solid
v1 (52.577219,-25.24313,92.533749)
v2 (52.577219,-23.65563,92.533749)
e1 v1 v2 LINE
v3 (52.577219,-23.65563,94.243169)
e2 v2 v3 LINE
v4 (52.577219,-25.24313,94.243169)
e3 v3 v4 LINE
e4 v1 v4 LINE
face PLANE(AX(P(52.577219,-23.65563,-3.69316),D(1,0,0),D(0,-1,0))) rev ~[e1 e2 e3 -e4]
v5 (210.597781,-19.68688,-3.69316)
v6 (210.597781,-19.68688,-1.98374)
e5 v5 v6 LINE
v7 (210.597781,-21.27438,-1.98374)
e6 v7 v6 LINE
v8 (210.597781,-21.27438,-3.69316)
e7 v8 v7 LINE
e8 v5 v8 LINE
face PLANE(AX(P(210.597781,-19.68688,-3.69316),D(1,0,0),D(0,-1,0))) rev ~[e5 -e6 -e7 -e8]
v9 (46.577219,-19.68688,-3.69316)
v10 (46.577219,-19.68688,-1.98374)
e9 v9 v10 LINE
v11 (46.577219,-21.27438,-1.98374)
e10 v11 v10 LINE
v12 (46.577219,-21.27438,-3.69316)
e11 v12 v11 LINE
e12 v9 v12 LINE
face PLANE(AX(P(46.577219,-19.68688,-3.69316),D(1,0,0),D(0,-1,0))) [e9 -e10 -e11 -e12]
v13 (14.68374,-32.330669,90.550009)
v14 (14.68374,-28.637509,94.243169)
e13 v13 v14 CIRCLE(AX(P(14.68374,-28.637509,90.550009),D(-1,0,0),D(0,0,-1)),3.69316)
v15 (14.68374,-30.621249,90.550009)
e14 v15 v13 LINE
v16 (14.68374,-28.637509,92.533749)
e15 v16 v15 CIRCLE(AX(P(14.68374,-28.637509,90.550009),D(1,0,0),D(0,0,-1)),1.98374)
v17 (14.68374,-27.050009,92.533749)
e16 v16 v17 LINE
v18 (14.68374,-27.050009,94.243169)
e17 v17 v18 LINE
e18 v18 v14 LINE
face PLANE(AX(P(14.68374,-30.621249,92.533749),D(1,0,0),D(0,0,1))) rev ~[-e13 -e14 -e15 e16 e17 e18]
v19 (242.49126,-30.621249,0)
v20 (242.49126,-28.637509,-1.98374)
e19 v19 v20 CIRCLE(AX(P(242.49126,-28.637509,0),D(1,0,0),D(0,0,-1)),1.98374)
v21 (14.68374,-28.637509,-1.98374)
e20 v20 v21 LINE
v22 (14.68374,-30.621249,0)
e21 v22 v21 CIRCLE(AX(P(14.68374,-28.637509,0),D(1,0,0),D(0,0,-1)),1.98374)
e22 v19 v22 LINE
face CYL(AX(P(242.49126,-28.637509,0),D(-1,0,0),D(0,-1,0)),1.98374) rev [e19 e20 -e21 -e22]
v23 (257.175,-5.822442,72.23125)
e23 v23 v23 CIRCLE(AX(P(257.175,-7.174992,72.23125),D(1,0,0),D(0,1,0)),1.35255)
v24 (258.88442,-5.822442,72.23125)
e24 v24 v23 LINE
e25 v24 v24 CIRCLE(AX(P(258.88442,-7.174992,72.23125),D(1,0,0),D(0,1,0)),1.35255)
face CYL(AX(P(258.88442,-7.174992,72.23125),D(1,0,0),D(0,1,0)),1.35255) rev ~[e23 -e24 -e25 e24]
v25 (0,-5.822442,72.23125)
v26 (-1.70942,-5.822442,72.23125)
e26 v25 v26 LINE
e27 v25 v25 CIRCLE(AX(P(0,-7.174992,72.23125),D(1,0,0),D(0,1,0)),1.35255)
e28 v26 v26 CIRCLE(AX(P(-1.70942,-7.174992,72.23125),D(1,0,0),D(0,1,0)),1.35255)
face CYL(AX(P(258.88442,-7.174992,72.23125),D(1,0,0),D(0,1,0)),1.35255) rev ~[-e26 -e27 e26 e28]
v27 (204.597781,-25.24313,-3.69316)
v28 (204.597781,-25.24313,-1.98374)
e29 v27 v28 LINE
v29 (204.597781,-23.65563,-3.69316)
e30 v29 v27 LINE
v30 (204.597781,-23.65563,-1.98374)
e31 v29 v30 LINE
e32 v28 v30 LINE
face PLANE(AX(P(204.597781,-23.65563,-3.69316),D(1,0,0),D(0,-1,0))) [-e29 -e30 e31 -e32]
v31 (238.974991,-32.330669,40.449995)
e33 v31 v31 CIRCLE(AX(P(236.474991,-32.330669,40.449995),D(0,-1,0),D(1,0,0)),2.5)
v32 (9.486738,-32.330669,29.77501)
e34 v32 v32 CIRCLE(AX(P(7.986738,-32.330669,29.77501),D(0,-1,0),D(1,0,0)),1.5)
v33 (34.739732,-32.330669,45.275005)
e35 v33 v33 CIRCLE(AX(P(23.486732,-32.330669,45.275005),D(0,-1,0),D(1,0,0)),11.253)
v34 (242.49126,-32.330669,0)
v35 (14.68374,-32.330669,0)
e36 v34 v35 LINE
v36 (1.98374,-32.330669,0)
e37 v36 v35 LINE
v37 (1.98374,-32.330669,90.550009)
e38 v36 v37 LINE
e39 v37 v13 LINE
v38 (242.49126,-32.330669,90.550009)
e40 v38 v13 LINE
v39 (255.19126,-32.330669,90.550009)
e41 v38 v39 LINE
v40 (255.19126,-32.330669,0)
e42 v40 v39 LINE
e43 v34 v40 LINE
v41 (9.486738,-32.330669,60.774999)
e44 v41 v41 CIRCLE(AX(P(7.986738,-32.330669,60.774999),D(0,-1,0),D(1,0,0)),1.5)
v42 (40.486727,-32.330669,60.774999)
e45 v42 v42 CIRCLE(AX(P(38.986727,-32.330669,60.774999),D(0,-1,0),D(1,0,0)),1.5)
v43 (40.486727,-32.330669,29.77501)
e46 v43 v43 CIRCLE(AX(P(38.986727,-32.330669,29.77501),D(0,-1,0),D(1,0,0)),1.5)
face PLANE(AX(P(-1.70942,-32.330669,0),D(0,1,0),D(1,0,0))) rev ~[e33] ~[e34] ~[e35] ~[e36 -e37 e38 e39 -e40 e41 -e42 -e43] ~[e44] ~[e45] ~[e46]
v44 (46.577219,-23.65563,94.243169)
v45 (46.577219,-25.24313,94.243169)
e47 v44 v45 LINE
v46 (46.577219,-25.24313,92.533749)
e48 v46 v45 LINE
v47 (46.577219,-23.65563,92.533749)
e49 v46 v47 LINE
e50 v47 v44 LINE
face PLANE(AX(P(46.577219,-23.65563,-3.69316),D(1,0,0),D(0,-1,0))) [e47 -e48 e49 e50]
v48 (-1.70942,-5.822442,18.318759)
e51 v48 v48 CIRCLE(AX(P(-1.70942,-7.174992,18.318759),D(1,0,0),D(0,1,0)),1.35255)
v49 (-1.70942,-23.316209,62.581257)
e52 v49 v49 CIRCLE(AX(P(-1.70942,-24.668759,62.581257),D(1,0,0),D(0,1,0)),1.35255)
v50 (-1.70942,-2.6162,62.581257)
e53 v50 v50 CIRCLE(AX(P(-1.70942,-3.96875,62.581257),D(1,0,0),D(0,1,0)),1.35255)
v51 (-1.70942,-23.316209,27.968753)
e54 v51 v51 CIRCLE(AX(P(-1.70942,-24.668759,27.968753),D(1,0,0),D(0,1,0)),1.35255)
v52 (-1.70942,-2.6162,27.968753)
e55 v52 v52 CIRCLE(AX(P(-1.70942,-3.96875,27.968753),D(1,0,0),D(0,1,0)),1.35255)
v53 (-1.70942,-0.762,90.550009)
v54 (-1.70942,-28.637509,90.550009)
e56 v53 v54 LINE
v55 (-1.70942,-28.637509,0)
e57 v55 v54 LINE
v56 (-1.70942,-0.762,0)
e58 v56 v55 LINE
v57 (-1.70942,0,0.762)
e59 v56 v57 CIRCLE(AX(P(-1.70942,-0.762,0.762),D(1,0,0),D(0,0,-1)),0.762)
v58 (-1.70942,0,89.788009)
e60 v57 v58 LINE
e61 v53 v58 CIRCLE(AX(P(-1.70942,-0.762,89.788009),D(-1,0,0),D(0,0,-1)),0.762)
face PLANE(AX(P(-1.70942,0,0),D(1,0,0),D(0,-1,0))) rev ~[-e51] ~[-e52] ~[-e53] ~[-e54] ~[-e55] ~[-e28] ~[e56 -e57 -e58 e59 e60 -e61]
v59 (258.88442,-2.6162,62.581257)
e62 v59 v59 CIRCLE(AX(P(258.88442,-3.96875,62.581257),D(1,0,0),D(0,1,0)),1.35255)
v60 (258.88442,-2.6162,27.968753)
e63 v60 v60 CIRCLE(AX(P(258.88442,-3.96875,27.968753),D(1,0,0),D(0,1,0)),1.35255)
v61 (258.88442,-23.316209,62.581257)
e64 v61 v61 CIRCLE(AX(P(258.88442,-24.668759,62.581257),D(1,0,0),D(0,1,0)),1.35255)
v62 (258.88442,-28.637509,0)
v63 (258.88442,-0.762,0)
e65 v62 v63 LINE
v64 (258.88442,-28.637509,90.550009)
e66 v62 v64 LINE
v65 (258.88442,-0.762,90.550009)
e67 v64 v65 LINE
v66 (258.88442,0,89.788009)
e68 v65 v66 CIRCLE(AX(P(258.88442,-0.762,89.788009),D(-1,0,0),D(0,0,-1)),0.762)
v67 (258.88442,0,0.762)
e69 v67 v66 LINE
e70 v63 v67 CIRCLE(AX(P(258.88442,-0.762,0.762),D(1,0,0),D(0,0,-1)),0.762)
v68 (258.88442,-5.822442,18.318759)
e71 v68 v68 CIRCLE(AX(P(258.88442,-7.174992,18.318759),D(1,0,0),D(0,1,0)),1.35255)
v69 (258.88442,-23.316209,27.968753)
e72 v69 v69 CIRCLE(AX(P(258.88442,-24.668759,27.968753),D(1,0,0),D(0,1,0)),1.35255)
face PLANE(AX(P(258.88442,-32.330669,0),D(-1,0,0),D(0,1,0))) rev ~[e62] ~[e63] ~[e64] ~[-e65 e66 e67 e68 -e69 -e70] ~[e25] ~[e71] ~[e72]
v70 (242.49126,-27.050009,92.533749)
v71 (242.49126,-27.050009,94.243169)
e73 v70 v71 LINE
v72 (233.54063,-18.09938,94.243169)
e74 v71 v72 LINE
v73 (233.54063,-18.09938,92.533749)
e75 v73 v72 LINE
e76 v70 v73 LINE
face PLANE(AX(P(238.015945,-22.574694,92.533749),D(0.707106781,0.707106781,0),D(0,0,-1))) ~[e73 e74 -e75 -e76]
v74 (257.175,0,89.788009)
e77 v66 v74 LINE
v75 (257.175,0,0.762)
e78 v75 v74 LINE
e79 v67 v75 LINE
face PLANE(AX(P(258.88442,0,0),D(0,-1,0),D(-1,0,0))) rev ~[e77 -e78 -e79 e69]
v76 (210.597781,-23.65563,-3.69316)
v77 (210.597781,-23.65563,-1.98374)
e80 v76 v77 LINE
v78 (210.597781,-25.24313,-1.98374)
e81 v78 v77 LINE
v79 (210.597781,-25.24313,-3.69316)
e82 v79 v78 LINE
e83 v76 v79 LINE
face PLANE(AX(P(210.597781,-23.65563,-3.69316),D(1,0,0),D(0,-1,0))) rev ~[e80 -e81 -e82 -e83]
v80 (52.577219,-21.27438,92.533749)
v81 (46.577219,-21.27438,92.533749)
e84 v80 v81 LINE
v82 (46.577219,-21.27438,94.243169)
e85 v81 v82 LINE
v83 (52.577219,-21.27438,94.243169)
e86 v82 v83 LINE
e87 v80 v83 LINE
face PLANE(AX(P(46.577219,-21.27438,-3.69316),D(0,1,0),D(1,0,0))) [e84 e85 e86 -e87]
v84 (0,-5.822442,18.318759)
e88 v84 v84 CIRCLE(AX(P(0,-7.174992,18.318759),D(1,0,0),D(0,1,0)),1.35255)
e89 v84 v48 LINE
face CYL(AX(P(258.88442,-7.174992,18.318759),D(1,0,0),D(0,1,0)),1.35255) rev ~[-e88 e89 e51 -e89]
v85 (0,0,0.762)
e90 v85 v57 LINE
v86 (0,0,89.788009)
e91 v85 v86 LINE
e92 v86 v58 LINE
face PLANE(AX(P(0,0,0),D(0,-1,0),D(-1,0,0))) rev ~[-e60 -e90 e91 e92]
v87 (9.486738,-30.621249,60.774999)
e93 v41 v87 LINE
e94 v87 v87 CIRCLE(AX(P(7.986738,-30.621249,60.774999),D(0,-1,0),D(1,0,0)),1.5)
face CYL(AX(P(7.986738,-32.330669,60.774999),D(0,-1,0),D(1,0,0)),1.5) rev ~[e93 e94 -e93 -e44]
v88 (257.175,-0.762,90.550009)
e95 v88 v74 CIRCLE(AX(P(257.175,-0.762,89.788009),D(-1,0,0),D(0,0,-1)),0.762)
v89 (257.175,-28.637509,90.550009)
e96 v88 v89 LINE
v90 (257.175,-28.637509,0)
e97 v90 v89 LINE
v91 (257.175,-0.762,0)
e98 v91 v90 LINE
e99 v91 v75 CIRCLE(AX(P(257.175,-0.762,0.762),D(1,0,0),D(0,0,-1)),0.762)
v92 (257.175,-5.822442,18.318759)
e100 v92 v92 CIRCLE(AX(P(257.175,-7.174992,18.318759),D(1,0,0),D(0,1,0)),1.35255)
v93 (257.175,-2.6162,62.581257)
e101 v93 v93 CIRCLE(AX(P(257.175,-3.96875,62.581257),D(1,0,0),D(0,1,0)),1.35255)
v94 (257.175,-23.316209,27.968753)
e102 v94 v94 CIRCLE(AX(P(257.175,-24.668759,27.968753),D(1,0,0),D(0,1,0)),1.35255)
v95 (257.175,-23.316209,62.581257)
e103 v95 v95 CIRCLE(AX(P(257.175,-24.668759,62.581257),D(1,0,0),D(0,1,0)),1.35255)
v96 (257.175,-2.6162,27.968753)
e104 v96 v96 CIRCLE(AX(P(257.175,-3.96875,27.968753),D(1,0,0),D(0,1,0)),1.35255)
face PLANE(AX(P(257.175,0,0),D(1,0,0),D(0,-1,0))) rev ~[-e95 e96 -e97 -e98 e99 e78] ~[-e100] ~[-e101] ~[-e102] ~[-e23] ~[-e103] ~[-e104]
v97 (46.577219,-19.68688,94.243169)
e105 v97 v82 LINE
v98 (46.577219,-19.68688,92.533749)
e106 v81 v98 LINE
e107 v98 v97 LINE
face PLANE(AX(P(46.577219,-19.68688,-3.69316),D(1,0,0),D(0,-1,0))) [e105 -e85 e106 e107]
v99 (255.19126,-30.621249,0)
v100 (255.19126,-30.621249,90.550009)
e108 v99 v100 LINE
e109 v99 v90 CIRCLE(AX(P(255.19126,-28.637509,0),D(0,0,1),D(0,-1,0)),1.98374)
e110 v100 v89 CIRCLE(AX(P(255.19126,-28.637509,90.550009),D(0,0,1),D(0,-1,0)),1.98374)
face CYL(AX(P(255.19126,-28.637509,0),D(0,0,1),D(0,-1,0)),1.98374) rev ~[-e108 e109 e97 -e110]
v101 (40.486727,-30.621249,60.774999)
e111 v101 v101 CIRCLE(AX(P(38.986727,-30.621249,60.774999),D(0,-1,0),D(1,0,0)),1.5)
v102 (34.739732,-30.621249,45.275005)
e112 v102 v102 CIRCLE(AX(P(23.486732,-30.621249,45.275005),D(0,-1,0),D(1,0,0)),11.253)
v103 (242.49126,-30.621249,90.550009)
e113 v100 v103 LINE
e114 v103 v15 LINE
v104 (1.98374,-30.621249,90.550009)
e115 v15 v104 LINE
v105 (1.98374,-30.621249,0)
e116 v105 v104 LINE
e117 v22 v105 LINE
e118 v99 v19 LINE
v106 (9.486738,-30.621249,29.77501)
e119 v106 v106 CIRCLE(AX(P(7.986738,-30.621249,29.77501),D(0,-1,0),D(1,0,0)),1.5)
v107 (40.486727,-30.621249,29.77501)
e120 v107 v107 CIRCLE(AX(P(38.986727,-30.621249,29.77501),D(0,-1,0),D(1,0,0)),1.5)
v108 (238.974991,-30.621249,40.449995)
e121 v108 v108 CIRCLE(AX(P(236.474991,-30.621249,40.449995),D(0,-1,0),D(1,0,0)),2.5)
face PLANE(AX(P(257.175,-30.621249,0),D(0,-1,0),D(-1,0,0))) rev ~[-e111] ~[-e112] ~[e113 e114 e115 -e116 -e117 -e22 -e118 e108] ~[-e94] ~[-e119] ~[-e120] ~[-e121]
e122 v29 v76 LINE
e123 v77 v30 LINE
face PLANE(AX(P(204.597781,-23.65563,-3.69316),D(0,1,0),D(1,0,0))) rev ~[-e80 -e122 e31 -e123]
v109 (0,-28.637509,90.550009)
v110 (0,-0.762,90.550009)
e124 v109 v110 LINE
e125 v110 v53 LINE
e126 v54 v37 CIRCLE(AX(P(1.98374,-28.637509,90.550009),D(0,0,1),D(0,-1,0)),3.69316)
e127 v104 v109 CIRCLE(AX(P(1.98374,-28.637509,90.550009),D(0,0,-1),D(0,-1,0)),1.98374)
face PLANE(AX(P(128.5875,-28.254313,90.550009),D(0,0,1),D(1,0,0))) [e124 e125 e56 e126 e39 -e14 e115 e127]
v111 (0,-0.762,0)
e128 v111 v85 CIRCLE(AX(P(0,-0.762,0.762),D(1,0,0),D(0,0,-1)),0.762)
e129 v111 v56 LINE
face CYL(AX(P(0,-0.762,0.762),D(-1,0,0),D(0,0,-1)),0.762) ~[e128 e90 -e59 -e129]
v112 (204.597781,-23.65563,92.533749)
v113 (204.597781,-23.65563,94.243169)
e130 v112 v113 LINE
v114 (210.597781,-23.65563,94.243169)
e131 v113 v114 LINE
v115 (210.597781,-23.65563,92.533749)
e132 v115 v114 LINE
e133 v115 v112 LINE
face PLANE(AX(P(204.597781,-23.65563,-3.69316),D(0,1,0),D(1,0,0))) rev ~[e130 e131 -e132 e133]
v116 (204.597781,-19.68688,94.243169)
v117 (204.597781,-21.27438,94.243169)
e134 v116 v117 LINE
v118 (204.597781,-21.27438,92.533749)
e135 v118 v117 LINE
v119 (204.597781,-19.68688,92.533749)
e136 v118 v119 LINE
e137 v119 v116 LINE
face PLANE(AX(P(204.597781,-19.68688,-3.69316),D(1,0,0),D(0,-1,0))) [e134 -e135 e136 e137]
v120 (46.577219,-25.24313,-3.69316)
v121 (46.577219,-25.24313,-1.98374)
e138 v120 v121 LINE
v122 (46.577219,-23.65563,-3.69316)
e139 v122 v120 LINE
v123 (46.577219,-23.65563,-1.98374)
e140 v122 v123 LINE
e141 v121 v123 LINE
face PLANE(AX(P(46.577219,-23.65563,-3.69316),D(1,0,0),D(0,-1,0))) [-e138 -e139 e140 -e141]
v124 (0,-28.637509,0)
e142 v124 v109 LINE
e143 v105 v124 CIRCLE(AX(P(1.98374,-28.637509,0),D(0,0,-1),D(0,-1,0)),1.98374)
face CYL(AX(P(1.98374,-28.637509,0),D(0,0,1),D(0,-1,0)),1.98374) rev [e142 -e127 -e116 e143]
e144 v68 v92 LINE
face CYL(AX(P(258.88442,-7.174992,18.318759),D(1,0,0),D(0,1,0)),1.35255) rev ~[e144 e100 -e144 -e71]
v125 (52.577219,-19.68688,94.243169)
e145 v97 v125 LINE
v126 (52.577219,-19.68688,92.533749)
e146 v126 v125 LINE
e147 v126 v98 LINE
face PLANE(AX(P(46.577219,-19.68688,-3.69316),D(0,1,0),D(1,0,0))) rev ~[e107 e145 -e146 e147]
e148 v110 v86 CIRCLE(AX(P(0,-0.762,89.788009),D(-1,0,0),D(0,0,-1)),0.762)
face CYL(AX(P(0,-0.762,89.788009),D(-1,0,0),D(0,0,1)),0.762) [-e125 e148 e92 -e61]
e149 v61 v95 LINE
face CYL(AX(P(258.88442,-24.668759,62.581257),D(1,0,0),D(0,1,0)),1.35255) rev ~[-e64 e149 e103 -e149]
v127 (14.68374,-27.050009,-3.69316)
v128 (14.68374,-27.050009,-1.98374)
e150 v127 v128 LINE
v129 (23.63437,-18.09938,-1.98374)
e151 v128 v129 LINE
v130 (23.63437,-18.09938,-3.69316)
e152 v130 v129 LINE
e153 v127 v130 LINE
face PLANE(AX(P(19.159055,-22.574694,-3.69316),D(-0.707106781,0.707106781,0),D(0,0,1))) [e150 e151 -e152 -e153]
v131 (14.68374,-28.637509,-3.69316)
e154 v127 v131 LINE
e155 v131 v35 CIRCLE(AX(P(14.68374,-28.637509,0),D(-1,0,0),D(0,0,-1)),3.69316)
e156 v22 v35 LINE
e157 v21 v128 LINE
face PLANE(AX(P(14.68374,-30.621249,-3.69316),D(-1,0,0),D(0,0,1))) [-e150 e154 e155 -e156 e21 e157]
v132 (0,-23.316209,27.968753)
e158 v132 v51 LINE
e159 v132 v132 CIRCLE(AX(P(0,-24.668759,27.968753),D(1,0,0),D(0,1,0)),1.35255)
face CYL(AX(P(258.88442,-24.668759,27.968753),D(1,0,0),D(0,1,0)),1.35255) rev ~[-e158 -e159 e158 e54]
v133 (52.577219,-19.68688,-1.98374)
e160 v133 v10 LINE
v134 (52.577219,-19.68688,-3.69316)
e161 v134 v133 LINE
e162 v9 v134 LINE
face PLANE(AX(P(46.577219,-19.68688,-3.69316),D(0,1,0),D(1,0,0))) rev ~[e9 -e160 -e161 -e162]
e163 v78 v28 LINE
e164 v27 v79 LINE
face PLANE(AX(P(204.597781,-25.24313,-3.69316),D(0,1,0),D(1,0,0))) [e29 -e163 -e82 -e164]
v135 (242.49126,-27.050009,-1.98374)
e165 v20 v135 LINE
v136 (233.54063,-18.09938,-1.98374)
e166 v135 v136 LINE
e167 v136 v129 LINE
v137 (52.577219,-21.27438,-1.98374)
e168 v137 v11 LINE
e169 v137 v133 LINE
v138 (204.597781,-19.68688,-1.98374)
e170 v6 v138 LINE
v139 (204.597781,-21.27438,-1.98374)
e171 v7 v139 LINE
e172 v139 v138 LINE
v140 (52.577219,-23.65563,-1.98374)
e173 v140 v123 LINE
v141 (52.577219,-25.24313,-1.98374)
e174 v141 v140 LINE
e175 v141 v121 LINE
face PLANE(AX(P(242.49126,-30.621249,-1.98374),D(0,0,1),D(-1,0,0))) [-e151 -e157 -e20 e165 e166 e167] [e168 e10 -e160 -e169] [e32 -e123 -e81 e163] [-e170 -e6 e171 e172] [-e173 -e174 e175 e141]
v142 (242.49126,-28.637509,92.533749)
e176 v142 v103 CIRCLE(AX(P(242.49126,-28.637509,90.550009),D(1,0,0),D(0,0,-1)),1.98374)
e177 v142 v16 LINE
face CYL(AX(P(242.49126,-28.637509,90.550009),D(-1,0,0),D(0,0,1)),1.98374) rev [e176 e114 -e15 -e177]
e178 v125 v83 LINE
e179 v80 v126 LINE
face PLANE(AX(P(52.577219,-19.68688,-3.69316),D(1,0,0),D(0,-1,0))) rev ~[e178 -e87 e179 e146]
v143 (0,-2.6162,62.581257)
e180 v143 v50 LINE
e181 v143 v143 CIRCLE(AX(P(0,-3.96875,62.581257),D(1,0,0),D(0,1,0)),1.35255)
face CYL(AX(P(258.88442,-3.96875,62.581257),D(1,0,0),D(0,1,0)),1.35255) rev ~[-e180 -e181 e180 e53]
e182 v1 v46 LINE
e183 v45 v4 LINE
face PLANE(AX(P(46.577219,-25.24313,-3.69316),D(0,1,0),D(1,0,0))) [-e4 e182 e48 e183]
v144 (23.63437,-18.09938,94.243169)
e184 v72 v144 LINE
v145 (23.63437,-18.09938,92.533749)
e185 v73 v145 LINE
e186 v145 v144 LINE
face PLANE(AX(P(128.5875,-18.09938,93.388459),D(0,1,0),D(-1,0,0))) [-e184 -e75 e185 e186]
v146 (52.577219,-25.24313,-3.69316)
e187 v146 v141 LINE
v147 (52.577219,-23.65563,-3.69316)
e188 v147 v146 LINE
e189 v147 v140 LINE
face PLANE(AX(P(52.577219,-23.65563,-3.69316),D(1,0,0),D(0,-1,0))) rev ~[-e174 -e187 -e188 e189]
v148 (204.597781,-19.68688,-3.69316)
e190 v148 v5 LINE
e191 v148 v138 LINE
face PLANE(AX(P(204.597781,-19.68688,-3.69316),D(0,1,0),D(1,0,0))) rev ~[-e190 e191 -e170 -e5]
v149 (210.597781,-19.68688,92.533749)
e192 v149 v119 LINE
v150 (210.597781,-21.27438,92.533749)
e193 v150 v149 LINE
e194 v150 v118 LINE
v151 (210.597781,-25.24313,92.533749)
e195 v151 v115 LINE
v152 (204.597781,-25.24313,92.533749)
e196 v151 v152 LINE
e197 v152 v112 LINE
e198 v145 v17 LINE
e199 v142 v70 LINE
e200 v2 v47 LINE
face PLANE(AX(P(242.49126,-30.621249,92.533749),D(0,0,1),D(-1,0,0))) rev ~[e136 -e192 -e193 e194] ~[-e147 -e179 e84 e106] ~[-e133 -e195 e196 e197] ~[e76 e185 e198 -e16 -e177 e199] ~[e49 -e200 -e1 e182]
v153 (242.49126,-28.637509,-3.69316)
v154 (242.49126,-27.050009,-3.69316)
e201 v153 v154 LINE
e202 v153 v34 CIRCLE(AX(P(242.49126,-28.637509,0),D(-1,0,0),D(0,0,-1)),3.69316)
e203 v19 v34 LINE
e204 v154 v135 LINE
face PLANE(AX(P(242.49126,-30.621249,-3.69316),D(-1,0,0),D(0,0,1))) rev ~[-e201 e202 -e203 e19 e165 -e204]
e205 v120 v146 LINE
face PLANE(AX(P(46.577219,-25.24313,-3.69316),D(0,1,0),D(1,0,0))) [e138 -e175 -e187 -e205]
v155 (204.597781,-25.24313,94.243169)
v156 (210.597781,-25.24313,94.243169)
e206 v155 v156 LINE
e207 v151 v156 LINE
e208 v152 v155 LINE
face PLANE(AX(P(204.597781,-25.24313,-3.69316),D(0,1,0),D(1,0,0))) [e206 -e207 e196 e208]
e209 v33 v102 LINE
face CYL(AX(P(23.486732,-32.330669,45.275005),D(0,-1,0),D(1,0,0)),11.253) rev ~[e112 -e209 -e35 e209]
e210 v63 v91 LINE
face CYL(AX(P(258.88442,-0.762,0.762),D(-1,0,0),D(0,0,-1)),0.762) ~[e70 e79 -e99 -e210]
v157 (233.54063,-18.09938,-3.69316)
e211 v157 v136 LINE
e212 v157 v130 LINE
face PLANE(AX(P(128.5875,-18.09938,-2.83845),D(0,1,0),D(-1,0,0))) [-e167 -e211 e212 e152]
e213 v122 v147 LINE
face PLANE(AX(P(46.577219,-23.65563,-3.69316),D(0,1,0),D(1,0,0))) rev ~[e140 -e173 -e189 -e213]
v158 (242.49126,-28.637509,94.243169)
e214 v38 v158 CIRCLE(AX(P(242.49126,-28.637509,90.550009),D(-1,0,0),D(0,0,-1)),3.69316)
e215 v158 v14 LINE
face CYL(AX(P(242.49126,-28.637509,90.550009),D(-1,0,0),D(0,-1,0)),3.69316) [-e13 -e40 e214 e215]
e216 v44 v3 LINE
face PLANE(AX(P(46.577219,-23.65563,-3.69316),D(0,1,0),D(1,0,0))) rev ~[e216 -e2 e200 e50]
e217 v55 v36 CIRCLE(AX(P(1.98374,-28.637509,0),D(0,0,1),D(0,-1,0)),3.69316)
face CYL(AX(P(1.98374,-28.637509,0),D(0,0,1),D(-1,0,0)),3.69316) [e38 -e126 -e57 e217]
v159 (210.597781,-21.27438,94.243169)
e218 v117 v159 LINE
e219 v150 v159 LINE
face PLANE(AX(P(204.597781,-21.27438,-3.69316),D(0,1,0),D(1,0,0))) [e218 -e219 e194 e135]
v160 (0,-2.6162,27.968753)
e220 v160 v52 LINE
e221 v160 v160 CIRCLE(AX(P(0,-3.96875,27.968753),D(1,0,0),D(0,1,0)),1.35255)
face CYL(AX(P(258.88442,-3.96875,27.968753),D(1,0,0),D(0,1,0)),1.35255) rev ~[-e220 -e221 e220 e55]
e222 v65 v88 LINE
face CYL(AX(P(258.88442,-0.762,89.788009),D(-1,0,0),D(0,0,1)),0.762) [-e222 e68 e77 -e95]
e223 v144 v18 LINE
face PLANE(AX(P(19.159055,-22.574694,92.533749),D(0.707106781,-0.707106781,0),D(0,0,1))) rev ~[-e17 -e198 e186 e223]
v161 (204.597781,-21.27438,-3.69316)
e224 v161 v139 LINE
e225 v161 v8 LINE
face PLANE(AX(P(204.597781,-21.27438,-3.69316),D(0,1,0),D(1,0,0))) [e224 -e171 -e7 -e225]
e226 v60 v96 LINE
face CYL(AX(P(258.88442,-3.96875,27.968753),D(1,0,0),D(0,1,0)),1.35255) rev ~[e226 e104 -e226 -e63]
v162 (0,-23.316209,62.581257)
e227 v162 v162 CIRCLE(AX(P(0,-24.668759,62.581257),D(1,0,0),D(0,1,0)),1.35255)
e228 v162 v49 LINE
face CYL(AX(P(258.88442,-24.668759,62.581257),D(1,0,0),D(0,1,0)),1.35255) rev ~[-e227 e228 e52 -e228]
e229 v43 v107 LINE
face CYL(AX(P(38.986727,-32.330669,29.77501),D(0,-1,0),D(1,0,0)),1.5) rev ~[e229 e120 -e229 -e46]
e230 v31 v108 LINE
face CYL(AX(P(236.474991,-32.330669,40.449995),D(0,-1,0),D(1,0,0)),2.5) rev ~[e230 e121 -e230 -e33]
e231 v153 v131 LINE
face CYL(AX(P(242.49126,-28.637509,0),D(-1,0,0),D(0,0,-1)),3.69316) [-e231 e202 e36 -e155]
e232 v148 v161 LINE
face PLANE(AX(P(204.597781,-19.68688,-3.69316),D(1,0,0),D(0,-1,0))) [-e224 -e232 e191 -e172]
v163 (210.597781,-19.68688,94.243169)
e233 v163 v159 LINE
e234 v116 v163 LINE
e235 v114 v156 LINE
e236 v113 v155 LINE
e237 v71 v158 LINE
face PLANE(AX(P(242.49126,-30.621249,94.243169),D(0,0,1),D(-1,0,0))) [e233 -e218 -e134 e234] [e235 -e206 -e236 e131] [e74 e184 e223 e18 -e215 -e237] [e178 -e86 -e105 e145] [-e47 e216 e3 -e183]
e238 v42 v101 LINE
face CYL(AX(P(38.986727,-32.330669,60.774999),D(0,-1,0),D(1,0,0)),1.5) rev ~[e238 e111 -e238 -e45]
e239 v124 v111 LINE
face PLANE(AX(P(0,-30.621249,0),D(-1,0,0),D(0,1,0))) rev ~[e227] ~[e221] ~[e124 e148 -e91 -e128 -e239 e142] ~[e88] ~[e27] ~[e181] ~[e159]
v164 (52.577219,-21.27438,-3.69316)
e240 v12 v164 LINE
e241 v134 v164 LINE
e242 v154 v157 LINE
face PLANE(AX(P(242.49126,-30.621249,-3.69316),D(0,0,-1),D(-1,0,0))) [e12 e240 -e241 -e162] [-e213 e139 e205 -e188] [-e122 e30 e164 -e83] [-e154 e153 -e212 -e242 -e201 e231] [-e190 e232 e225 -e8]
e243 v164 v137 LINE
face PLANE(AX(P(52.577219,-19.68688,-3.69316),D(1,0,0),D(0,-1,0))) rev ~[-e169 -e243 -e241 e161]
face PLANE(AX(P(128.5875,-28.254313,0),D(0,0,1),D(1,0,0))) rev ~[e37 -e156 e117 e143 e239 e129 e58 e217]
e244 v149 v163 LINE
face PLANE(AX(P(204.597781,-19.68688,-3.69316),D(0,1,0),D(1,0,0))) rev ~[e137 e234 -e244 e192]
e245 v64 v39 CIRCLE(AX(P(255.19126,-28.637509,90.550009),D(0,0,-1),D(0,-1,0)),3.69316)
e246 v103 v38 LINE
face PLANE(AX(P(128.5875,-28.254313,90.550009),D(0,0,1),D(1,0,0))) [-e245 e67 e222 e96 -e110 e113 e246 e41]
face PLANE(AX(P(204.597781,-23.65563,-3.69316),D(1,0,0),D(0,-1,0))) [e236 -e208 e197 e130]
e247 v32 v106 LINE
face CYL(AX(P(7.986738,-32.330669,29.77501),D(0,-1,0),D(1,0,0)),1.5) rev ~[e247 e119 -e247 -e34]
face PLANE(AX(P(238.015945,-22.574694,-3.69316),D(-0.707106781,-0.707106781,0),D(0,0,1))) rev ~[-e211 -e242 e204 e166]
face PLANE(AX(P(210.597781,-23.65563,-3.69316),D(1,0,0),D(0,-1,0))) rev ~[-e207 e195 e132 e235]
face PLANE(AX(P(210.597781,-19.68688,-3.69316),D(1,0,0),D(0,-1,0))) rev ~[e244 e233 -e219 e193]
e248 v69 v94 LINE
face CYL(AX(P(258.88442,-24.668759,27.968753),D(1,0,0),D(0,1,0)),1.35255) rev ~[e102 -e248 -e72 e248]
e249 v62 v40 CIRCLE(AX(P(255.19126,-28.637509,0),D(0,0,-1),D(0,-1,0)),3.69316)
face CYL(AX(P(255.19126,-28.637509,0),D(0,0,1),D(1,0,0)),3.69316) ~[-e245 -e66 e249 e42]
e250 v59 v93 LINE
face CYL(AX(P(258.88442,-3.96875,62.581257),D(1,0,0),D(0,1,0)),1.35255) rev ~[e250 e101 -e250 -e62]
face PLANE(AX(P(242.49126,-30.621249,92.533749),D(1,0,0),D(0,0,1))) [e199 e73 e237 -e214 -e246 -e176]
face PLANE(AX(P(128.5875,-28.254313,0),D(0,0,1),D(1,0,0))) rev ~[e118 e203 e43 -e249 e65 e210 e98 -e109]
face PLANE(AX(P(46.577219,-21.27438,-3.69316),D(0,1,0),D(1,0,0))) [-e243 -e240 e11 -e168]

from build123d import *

# Parameters (mm, degrees)
F1_DEPTH  = 90.5500094
F2_R      = 11.2530001
F2_R_2    = 1.5
F2_R_3    = 2.5
F3_DEPTH  = 1.70942
F4_R      = 1.35255
F5_DEPTH  = 260.59384
F6_R      = 0.762
F7_R      = 1.35255
F8_DEPTH  = 260.59384
F9_W      = 227.80752
F9_H      = 3.69316
F10_DEPTH = 1.70942
F11_W     = 227.80752
F11_H     = 1.70942
F12_DEPTH = 12.5218698
F13_R     = 3.69316
F14_R     = 1.98374
F15_SIZE  = 8.9506298
F16_W     = 6
F16_H     = 1.5875
F17_DEPTH = 97.9363294


with BuildPart() as f1:
    # F0 (on Top) → F1 (new body)
    with BuildSketch(Plane.XY):
        Polygon((0, -30.6212494), (0, 0), (-1.70942, 0), (-1.70942, -32.3306694), (258.88442, -32.3306694), (258.88442, 0), (257.175, 0), (257.175, -30.6212494), align=None)
    extrude(amount=F1_DEPTH)

    # F2 (on face) → F3 (cut, through all)
    with BuildSketch(Plane.XZ.offset(32.3306694)):
        with Locations((23.4867323, 45.2750047)):
            Circle(F2_R)
        with Locations((7.9867379, 29.7750103)):
            Circle(F2_R_2)
        with Locations((38.9867267, 29.7750103)):
            Circle(F2_R_2)
        with Locations((38.9867267, 60.7749991)):
            Circle(F2_R_2)
        with Locations((7.9867379, 60.7749991)):
            Circle(F2_R_2)
        with Locations((236.4749906, 40.4499953)):
            Circle(F2_R_3)
    extrude(amount=-F3_DEPTH, mode=Mode.SUBTRACT)

    # F4 (on face) → F5 (cut, through all)
    with BuildSketch(Plane.YZ.offset(258.88442)):
        with Locations((-7.174992, 18.3187594)):
            Circle(F4_R)
        with Locations((-7.174992, 72.23125)):
            Circle(F4_R)
    extrude(amount=-F5_DEPTH, mode=Mode.SUBTRACT)

    # F6
    f6_edges = [f1.edges().sort_by_distance(p)[0] for p in [
        (258.02971, 0, 90.550009),
        (258.02971, 0, 0),
        (-0.85471, 0, 90.550009),
        (-0.85471, 0, 0),
    ]]
    fillet(f6_edges, radius=F6_R)

    # F7 (on face) → F8 (cut, through all)
    with BuildSketch(Plane.YZ.offset(258.88442)):
        with Locations((-24.6687594, 27.9687528)):
            Circle(F7_R)
        with Locations((-3.96875, 27.9687528)):
            Circle(F7_R)
        with Locations((-3.96875, 62.5812566)):
            Circle(F7_R)
        with Locations((-24.6687594, 62.5812566)):
            Circle(F7_R)
    extrude(amount=-F8_DEPTH, mode=Mode.SUBTRACT)

    # F9 (on face) → F10 (join, through all)
    with BuildSketch(Plane(origin=(0, -30.6212494, 0), x_dir=(-1, 0, 0), z_dir=(0, 1, 0))):
        with Locations((-128.5875, -1.84658)):
            Rectangle(F9_W, F9_H)
        with Locations((-128.5875, 92.3965894)):
            Rectangle(F9_W, F9_H)
    extrude(amount=-F10_DEPTH)

    # F11 (on face) → F12 (join)
    with BuildSketch(Plane(origin=(0, -30.6212494, 0), x_dir=(-1, 0, 0), z_dir=(0, 1, 0))):
        with Locations((-128.5875, 93.3884594)):
            Rectangle(F11_W, F11_H)
        with Locations((-128.5875, -2.83845)):
            Rectangle(F11_W, F11_H)
    extrude(amount=F12_DEPTH)

    # F13
    f13_edges = [f1.edges().sort_by_distance(p)[0] for p in [
        (-1.70942, -32.330669, 45.275005),
        (258.88442, -32.330669, 45.275005),
        (128.5875, -32.330669, 94.243169),
        (128.5875, -32.330669, -3.69316),
    ]]
    fillet(f13_edges, radius=F13_R)

    # F14
    f14_edges = [f1.edges().sort_by_distance(p)[0] for p in [
        (0, -30.621249, 45.275005),
        (257.175, -30.621249, 45.275005),
        (128.5875, -30.621249, 92.533749),
        (128.5875, -30.621249, -1.98374),
    ]]
    fillet(f14_edges, radius=F14_R)

    # F15
    f15_edges = [f1.edges().sort_by_distance(p)[0] for p in [
        (14.68374, -18.09938, 93.388459),
        (242.49126, -18.09938, 93.388459),
        (242.49126, -18.09938, -2.83845),
        (14.68374, -18.09938, -2.83845),
    ]]
    chamfer(f15_edges, length=F15_SIZE)

    # F16 (on face) → F17 (cut, through all)
    with BuildSketch(Plane(origin=(0, 0, -3.69316), x_dir=(1, 0, 0), z_dir=(0, 0, -1))):
        with Locations((49.5772186, 20.4806296)):
            Rectangle(F16_W, F16_H)
        with Locations((207.5977814, 20.4806296)):
            Rectangle(F16_W, F16_H)
        with Locations((49.5772186, 24.4493796)):
            Rectangle(F16_W, F16_H)
        with Locations((207.5977814, 24.4493796)):
            Rectangle(F16_W, F16_H)
    extrude(amount=-F17_DEPTH, mode=Mode.SUBTRACT)


solid = f1.part
